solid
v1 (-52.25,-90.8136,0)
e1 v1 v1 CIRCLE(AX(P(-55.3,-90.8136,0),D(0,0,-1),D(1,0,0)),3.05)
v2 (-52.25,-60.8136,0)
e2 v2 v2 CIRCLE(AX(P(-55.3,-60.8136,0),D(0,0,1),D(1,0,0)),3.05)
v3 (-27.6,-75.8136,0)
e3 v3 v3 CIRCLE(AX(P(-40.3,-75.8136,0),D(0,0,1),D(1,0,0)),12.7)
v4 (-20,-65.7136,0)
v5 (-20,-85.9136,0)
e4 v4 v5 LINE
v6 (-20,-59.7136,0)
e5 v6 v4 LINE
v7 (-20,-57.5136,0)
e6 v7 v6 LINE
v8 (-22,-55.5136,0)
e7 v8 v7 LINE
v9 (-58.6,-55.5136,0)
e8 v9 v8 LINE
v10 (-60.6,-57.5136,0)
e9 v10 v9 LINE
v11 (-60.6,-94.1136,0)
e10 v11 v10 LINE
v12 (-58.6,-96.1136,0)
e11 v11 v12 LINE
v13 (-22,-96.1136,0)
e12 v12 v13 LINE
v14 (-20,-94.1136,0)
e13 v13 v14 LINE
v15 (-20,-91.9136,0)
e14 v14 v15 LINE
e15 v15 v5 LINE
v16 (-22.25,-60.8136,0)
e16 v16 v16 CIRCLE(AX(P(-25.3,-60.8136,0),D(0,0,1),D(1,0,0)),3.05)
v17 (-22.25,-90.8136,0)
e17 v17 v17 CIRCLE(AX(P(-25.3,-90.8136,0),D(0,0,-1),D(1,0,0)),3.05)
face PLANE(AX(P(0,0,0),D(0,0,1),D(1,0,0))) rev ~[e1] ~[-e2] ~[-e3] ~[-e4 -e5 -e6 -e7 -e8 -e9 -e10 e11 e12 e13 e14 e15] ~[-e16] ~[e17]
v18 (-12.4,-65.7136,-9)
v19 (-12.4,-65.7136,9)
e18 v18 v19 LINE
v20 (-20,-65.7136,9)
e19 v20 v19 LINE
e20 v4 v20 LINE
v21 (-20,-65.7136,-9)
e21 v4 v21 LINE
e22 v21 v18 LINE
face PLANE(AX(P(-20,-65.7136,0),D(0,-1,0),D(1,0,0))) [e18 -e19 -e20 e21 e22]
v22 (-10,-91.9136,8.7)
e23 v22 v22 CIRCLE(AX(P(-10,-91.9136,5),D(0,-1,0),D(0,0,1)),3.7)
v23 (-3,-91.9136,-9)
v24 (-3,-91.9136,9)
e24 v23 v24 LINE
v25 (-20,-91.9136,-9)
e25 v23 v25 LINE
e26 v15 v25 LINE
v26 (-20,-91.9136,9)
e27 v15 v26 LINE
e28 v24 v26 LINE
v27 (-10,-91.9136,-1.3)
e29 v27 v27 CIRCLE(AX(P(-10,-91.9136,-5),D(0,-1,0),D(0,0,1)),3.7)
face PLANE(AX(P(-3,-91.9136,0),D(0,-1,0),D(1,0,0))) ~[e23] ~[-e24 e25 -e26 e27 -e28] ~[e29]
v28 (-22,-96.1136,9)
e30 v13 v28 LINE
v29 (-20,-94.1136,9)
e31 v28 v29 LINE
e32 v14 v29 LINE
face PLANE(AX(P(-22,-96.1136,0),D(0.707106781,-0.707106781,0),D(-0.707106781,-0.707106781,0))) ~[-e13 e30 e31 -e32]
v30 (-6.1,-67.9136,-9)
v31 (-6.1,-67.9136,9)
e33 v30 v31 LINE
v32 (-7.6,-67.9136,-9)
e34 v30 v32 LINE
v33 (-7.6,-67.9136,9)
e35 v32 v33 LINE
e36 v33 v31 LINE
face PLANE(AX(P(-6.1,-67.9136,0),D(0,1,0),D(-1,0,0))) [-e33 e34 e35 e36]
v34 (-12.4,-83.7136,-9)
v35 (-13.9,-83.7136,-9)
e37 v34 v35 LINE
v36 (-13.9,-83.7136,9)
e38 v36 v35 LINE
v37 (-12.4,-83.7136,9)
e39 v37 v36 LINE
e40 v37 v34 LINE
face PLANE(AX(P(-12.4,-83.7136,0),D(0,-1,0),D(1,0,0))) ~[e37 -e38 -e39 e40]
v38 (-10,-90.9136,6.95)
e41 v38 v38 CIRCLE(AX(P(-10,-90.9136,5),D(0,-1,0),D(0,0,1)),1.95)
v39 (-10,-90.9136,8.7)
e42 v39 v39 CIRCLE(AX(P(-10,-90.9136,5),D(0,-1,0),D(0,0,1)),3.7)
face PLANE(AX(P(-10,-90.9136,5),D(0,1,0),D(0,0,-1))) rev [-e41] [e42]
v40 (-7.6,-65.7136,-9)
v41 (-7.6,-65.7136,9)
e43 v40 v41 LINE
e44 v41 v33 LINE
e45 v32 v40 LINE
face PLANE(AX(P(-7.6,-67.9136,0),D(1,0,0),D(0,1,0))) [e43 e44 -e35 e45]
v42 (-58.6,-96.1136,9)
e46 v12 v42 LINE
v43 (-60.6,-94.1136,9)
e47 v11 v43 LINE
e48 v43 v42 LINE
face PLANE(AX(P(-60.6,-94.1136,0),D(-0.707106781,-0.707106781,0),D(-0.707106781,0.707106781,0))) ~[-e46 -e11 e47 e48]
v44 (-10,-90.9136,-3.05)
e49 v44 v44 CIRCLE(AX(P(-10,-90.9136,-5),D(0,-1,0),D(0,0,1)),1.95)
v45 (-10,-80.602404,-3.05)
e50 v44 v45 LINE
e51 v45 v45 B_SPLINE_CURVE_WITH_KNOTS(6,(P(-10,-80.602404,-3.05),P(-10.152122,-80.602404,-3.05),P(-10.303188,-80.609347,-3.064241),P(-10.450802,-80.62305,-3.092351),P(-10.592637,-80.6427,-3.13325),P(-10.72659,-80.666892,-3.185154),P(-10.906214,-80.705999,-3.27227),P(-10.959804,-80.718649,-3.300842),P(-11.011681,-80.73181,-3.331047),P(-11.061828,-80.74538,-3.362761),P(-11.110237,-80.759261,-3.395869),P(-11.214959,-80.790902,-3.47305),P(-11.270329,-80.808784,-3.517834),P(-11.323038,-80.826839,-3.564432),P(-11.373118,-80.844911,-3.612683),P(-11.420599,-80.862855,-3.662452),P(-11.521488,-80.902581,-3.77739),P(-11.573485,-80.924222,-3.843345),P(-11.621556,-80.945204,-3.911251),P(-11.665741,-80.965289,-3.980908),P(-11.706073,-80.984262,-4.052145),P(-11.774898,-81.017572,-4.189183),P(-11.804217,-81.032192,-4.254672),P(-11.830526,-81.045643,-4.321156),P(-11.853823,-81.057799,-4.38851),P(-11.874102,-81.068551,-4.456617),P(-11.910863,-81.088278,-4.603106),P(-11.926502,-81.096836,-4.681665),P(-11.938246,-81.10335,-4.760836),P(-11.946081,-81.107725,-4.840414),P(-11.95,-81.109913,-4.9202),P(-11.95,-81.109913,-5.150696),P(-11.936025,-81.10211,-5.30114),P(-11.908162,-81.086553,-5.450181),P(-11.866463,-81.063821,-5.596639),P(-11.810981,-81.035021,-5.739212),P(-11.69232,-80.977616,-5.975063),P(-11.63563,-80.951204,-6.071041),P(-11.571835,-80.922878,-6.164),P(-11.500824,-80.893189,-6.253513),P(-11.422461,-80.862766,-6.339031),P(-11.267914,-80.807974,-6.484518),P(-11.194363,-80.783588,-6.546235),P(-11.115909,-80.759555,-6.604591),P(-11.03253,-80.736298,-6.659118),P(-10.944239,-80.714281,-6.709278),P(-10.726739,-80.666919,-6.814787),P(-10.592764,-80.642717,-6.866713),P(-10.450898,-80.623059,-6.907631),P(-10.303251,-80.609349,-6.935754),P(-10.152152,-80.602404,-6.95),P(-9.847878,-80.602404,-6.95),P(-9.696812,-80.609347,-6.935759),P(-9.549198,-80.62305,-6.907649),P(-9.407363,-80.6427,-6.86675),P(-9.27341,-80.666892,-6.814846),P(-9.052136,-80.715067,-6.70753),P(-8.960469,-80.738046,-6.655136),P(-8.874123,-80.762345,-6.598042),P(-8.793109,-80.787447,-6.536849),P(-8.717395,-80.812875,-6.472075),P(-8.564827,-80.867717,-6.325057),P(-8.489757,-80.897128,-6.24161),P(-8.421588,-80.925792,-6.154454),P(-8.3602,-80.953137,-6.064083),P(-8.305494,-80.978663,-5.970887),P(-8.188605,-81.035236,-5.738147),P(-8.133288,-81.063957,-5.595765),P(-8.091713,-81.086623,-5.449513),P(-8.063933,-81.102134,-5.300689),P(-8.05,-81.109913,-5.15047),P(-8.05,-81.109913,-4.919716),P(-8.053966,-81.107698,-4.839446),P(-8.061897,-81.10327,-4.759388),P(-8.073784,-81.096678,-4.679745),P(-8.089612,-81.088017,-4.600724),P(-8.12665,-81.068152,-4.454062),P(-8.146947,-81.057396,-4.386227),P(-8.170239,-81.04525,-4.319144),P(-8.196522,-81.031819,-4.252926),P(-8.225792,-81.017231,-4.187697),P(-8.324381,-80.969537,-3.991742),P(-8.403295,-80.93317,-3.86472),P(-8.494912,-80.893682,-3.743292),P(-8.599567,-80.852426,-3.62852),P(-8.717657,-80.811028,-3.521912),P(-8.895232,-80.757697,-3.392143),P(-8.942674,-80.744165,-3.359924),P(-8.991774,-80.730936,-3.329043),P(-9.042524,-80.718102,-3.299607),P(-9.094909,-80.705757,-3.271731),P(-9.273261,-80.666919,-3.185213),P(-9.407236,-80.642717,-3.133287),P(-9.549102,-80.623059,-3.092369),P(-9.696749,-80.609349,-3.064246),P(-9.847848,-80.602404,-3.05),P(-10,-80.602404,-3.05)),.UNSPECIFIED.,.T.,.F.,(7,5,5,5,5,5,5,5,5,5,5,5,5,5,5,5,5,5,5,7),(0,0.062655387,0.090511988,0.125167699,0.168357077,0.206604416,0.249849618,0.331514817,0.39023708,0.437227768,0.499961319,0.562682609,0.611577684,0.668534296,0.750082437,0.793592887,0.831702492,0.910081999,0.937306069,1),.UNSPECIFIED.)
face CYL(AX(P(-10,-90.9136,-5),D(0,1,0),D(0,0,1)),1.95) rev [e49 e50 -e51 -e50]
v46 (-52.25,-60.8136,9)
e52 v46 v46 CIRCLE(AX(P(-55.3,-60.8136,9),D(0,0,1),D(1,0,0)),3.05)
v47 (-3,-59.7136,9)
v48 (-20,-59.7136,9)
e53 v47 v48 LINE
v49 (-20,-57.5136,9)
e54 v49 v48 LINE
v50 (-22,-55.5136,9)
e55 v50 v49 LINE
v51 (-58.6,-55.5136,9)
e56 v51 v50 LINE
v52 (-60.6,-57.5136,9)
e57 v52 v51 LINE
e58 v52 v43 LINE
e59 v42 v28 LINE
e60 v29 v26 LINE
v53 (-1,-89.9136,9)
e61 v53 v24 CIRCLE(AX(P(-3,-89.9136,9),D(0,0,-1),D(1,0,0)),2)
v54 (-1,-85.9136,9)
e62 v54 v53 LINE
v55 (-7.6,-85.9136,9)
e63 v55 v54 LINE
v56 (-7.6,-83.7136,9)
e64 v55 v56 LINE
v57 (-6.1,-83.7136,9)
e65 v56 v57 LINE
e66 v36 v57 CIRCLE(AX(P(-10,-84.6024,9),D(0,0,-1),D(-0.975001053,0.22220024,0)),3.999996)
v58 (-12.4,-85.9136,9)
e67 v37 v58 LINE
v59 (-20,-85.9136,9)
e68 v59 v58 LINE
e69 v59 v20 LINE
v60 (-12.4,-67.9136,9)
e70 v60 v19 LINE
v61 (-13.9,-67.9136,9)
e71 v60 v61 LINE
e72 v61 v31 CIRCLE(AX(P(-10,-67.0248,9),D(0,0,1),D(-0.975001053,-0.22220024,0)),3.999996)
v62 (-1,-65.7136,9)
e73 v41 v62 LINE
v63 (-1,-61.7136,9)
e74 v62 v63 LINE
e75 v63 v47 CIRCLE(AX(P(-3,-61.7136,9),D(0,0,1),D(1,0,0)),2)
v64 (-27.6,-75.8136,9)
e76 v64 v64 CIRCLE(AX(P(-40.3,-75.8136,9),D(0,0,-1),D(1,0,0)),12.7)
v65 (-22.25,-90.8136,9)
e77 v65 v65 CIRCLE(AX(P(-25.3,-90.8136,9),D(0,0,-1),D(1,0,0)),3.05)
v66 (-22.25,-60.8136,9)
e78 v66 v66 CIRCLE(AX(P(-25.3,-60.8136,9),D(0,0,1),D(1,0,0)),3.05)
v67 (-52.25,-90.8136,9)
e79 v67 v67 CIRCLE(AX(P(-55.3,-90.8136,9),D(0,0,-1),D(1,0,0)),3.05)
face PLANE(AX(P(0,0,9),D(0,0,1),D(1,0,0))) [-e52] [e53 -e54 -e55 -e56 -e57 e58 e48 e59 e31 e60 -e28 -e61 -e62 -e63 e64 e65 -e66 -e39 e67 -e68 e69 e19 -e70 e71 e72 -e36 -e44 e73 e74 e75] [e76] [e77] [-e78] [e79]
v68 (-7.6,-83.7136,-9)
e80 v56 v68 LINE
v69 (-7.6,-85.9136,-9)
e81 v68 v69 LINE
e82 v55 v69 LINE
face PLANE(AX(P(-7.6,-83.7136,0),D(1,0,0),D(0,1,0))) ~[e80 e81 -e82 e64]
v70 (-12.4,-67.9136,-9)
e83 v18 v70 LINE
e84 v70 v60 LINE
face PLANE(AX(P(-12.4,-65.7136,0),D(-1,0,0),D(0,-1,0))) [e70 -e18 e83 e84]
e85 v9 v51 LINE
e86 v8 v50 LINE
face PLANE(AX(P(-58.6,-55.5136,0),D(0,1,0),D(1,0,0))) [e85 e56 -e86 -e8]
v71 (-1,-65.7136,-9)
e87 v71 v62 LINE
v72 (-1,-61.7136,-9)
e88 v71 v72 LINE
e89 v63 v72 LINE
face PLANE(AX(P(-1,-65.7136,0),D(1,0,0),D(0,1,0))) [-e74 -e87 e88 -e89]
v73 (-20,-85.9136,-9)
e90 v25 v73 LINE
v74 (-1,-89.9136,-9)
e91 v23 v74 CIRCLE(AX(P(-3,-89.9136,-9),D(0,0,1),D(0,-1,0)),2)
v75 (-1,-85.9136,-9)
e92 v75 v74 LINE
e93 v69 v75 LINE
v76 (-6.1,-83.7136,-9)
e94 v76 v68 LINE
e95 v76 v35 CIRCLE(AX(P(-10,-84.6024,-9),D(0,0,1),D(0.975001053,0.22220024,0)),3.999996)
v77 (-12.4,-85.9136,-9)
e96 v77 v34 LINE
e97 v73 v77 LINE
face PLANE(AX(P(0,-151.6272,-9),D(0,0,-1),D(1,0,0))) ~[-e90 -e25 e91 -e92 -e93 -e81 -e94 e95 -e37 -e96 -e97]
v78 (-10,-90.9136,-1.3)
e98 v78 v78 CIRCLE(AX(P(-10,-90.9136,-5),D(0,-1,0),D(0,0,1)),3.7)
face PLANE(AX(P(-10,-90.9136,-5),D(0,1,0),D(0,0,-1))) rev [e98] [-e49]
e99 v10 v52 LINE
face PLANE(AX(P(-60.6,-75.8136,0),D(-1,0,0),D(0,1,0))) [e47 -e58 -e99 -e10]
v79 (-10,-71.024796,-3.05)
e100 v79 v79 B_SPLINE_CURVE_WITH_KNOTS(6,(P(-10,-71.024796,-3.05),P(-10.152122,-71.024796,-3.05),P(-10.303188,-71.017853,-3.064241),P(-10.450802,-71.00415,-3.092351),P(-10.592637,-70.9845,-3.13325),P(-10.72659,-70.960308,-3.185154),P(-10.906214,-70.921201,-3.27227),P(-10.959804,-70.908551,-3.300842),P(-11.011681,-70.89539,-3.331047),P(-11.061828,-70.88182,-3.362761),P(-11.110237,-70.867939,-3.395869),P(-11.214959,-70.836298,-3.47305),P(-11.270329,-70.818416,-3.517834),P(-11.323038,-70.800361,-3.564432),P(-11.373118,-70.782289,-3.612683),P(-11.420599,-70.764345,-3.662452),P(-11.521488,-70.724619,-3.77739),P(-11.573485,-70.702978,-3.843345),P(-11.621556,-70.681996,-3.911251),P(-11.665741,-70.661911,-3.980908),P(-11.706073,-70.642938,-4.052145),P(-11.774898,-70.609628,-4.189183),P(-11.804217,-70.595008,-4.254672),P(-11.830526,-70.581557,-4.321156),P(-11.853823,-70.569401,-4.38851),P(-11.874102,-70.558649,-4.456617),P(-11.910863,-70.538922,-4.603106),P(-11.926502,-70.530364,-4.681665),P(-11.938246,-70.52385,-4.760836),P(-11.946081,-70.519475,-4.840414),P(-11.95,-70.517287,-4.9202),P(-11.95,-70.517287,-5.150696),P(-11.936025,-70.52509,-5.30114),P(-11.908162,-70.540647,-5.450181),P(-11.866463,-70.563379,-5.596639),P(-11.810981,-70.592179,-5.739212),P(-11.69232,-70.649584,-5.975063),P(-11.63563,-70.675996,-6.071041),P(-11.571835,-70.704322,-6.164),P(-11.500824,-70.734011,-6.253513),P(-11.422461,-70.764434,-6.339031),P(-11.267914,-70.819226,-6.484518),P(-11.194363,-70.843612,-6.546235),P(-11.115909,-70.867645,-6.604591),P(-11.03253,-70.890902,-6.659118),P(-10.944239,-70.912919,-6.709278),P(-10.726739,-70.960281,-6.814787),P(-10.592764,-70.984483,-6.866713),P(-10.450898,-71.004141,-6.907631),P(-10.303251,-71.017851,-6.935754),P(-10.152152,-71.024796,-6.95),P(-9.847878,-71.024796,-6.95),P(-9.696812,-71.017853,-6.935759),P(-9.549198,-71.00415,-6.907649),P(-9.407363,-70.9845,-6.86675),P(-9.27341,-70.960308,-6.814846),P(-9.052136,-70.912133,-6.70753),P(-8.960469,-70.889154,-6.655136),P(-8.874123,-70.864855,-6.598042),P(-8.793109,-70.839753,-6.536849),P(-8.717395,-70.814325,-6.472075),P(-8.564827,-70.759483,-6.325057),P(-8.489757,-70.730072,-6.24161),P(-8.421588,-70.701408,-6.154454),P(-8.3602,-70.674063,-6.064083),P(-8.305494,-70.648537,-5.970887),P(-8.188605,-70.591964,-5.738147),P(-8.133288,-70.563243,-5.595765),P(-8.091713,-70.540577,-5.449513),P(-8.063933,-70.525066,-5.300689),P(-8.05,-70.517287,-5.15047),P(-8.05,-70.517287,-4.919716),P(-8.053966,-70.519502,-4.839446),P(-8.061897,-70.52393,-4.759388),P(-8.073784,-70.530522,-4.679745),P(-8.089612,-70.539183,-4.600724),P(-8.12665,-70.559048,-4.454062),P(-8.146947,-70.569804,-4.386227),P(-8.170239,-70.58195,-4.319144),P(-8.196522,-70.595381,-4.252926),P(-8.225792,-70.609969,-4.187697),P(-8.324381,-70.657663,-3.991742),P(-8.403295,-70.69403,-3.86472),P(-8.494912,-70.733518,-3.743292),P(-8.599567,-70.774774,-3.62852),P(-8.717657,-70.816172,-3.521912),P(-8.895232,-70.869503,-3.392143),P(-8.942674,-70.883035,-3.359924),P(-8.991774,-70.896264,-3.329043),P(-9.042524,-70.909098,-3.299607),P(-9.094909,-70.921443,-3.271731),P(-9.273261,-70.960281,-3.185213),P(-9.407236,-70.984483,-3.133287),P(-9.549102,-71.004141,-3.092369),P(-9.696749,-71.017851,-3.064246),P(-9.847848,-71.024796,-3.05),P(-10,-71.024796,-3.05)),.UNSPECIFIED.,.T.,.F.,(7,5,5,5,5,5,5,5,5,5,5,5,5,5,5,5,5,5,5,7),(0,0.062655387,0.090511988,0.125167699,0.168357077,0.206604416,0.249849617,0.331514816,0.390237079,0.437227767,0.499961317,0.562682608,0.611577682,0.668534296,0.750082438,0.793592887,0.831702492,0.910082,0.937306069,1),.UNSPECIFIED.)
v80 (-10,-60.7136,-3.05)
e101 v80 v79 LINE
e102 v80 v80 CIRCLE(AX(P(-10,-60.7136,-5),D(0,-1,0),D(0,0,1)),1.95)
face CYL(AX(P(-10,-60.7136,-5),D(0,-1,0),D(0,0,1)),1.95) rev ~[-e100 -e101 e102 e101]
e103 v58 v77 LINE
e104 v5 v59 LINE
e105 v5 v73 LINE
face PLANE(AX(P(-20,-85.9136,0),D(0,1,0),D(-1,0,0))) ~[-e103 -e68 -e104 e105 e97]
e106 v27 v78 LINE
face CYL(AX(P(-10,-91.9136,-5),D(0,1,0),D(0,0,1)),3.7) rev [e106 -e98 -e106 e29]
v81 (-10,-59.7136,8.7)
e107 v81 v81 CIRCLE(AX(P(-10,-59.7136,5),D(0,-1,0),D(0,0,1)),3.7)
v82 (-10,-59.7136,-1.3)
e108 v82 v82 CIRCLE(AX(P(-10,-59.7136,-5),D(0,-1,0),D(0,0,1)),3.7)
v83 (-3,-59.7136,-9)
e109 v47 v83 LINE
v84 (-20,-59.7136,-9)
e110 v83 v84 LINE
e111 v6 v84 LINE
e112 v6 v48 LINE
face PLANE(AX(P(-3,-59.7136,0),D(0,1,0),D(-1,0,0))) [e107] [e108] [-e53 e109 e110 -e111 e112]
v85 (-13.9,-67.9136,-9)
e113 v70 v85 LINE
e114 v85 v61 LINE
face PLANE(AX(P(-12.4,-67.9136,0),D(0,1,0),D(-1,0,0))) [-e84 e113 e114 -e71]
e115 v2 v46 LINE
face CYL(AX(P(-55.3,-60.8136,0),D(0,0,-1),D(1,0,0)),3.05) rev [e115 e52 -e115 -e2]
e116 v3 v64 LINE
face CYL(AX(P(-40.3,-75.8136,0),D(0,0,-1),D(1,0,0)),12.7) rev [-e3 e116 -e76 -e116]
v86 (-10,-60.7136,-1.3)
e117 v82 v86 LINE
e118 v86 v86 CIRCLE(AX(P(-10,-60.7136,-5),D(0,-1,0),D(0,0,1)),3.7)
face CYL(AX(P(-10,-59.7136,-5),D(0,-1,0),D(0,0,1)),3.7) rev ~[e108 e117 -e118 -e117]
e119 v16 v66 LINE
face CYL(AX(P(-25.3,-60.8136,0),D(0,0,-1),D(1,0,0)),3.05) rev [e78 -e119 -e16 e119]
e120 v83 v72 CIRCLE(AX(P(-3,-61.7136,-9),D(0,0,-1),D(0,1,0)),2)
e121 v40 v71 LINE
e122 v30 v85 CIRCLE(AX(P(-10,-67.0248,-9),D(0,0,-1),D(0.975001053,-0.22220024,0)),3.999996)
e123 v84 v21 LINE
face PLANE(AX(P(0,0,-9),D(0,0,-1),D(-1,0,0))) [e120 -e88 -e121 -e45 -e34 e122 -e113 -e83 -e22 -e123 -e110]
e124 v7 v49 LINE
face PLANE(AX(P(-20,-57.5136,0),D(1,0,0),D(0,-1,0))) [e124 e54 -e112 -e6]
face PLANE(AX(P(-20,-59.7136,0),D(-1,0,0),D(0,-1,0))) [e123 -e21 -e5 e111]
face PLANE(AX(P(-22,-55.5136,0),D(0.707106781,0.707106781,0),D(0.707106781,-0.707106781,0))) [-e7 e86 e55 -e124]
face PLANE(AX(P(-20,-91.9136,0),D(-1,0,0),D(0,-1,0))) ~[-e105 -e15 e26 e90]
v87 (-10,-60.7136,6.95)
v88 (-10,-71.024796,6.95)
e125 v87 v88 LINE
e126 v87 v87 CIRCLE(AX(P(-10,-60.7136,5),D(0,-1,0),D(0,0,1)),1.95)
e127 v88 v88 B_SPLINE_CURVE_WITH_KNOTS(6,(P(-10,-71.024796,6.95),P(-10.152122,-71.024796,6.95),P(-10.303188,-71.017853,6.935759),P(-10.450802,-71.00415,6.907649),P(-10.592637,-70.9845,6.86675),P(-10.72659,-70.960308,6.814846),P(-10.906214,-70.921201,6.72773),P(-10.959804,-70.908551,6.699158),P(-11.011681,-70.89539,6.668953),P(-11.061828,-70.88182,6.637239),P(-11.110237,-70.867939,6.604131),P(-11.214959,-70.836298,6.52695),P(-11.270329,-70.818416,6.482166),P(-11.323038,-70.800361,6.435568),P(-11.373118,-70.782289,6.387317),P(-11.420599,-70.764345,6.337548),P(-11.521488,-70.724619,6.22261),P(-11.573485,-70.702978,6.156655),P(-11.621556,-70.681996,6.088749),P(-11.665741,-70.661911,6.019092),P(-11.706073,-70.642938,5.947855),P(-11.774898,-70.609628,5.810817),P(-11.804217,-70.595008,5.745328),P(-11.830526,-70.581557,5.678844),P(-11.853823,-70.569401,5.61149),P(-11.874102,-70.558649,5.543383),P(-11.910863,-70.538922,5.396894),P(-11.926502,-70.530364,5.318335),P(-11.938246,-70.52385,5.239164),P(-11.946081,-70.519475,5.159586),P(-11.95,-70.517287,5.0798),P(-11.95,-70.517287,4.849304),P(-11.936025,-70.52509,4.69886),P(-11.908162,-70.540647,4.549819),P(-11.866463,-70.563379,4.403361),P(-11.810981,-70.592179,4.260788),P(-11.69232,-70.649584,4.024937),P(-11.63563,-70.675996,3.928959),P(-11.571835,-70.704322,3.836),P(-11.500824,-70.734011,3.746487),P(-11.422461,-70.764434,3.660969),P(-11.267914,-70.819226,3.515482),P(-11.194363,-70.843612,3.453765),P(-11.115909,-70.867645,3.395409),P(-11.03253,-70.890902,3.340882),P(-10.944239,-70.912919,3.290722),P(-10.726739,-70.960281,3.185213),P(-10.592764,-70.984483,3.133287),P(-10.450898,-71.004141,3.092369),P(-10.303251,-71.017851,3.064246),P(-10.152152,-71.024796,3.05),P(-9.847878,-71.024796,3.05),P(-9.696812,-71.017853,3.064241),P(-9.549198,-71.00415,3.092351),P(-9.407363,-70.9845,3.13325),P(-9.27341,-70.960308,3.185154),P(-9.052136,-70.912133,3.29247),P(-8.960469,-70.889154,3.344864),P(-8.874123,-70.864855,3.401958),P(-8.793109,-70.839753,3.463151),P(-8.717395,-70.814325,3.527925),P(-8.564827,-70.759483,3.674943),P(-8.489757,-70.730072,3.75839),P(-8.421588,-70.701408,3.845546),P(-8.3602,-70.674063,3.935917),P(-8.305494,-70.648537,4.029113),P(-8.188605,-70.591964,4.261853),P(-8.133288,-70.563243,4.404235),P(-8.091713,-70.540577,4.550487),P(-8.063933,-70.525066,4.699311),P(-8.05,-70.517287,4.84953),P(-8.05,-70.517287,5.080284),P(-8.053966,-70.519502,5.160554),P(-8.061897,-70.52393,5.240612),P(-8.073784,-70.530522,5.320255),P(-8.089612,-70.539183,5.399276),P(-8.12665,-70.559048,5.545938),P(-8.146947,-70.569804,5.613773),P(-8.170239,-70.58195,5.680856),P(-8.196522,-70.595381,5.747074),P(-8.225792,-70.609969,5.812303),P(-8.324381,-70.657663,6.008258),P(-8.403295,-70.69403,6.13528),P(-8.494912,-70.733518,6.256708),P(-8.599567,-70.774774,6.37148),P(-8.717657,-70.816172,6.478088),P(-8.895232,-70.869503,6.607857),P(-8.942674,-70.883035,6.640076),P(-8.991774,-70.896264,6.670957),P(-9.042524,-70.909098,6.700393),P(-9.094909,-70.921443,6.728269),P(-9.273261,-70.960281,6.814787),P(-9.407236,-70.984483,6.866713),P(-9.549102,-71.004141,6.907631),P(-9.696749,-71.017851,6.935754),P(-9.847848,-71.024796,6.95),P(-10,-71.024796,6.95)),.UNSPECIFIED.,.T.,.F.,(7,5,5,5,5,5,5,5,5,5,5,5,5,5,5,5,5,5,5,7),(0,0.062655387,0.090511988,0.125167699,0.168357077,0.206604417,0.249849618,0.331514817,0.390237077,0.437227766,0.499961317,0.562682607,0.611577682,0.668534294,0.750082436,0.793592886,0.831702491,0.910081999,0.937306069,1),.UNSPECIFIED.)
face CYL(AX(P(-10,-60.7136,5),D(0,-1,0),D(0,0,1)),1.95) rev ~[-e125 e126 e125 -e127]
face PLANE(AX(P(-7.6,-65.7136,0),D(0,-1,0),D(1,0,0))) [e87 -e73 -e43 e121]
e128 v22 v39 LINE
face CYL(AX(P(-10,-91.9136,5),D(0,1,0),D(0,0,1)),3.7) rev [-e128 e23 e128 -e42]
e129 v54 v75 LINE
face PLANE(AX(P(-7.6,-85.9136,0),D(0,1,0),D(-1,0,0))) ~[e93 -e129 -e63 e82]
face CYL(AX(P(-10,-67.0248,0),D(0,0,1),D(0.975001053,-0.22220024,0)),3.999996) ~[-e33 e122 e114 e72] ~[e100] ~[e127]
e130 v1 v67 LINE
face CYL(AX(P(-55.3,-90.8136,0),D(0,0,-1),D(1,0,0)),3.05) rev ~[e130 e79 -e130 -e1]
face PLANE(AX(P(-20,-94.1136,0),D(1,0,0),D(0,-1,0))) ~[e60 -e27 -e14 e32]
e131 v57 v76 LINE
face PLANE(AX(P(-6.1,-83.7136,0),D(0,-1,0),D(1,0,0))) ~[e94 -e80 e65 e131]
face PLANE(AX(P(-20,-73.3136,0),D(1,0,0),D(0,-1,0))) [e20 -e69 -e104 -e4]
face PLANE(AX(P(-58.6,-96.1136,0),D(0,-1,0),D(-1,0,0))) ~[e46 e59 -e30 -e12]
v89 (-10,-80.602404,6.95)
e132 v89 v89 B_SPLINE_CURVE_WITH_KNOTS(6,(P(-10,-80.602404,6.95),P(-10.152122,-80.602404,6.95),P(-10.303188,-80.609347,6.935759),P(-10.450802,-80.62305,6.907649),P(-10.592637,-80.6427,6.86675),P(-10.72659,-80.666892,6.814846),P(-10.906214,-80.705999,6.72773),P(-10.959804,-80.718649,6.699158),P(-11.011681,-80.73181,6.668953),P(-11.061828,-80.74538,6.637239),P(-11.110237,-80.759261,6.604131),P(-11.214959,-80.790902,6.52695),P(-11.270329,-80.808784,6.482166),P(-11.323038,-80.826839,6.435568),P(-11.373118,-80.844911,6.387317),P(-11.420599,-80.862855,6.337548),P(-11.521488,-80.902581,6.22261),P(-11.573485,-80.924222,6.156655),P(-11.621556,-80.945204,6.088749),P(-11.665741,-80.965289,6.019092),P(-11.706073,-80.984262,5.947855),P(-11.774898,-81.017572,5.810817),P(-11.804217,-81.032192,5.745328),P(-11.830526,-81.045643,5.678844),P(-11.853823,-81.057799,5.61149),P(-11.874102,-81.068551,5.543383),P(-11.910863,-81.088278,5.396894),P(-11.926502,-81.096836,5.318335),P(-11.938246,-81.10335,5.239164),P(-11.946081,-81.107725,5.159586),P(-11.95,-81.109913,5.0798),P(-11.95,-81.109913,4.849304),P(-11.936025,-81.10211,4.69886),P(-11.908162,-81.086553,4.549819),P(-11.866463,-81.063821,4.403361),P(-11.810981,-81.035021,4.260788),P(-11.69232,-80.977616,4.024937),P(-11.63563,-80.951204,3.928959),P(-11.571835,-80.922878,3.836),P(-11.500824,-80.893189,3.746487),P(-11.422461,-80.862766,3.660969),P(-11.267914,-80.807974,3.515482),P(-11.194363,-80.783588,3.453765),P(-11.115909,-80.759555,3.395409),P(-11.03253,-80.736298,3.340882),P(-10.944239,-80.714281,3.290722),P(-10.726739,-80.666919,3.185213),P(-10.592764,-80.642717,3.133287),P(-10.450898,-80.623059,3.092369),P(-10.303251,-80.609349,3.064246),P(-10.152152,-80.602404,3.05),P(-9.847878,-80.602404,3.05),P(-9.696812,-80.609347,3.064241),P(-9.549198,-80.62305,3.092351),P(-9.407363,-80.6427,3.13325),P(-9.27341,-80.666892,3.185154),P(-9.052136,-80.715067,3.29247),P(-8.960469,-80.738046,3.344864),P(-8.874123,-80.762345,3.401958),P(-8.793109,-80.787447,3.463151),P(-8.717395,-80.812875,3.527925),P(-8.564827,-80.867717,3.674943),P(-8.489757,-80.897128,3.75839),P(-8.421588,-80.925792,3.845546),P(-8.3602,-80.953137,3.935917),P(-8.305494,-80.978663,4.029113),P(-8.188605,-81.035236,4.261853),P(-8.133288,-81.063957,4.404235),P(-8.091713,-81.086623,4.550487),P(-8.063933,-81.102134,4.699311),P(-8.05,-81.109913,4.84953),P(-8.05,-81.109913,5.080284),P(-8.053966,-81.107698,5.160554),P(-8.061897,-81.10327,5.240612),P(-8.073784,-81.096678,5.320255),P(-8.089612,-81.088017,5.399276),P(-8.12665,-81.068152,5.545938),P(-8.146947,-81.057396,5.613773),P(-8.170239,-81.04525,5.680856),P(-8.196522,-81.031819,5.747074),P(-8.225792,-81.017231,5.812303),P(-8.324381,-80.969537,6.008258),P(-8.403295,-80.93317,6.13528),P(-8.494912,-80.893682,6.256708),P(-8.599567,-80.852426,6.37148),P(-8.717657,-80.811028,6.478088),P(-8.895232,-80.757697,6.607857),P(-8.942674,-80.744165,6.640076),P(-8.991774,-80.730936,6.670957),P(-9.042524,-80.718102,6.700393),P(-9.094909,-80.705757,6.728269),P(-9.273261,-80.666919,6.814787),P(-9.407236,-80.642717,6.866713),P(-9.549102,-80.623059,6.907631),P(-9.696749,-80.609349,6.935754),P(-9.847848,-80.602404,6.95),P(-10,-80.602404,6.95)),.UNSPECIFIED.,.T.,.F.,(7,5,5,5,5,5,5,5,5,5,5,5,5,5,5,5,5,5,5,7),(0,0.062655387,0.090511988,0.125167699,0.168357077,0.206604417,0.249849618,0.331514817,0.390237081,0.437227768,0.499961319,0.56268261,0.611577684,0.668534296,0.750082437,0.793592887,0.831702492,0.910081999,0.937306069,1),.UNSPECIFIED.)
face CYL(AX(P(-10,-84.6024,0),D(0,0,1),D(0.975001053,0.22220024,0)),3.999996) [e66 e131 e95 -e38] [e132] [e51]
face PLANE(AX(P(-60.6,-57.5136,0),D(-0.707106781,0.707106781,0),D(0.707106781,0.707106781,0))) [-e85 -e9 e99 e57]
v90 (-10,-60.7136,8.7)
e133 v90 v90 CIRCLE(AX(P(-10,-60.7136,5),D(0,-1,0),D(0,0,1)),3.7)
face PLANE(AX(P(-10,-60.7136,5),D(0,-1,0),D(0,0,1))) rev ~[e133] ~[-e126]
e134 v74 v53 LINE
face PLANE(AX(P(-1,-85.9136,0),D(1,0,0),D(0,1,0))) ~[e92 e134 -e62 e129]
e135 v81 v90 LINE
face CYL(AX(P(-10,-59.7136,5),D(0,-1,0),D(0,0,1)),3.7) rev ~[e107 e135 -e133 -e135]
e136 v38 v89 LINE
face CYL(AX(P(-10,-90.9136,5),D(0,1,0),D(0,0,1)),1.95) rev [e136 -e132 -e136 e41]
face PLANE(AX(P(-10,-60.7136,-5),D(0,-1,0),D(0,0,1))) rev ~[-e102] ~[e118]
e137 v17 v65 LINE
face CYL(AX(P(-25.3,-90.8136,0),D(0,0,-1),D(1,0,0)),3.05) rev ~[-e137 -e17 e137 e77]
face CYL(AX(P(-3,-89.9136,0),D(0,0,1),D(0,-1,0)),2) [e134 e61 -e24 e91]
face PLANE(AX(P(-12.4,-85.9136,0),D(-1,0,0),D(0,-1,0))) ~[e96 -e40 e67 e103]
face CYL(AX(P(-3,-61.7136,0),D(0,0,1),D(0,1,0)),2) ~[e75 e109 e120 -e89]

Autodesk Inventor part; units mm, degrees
ref_plane "YZ Plane" through (0, 0, 0) normal (1, 0, 0) x (0, 1, 0)
ref_plane "XZ Plane" through (0, 0, 0) normal (0, 1, 0) x (-1, 0, 0)
ref_plane "XY Plane" through (0, 0, 0) normal (0, 0, 1) x (1, 0, 0)
sketch "Sketch1" plane through (0, 0, 0) normal (0, 0, 1) x (1, 0, 0)
  line L0 (-20, -85.8136) -> (-20, -78.3136) projected
  line L1 (-20, -78.3136) -> (-18.5, -78.3136) projected
  line L2 (-18.5, -78.3136) -> (-18.5, -82.5636) projected
  line L3 (-18.5, -82.5636) -> (-17.8462, -82.5636) projected
  line L4 (-17.8462, -82.5636) -> (-14, -78.7175) projected
  line L5 (-14, -78.7175) -> (-14, -72.9098) projected
  line L6 (-14, -72.9098) -> (-17.8462, -69.0636) projected
  line L7 (-17.8462, -69.0636) -> (-18.5, -69.0636) projected
  line L8 (-18.5, -69.0636) -> (-18.5, -73.3136) projected
  line L9 (-18.5, -73.3136) -> (-20, -73.3136) projected
  line L10 (-20, -73.3136) -> (-20, -65.8136) projected
  line L11 (-20, -65.8136) -> (-12.5, -65.8136) projected
  line L12 (-12.5, -65.8136) -> (-12.5, -67.3136) projected
  line L13 (-12.5, -67.3136) -> (-16.75, -67.3136) projected
  line L14 (-16.75, -67.3136) -> (-16.75, -68.0385) projected
  line L15 (-16.75, -68.0385) -> (-12.9748, -71.8136) projected
  line L16 (-12.9748, -71.8136) -> (-7.0252, -71.8136) projected
  line L17 (-7.0252, -71.8136) -> (-3.25, -68.0385) projected
  line L18 (-3.25, -68.0385) -> (-3.25, -67.3136) projected
  line L19 (-3.25, -67.3136) -> (-7.5, -67.3136) projected
  line L20 (-7.5, -67.3136) -> (-7.5, -65.8136) projected
  line L21 (-7.5, -65.8136) -> (0, -65.8136) projected
  line L22 (0, -65.8136) -> (0, -73.3136) projected
  line L23 (0, -73.3136) -> (-1.5, -73.3136) projected
  line L24 (-1.5, -73.3136) -> (-1.5, -69.0636) projected
  line L25 (-1.5, -69.0636) -> (-2.1538, -69.0636) projected
  line L26 (-2.1538, -69.0636) -> (-6, -72.9098) projected
  line L27 (-6, -72.9098) -> (-6, -78.7175) projected
  line L28 (-6, -78.7175) -> (-2.1538, -82.5636) projected
  line L29 (-2.1538, -82.5636) -> (-1.5, -82.5636) projected
  line L30 (-1.5, -82.5636) -> (-1.5, -78.3136) projected
  line L31 (-1.5, -78.3136) -> (0, -78.3136) projected
  line L32 (0, -78.3136) -> (0, -85.8136) projected
  line L33 (0, -85.8136) -> (-7.5, -85.8136) projected
  line L34 (-7.5, -85.8136) -> (-7.5, -84.3136) projected
  line L35 (-7.5, -84.3136) -> (-3.25, -84.3136) projected
  line L36 (-3.25, -84.3136) -> (-3.25, -83.5888) projected
  line L37 (-3.25, -83.5888) -> (-7.0252, -79.8136) projected
  line L38 (-7.0252, -79.8136) -> (-12.9748, -79.8136) projected
  line L39 (-12.9748, -79.8136) -> (-16.75, -83.5888) projected
  line L40 (-16.75, -83.5888) -> (-16.75, -84.3136) projected
  line L41 (-16.75, -84.3136) -> (-12.5, -84.3136) projected
  line L42 (-12.5, -84.3136) -> (-12.5, -85.8136) projected
  line L43 (-12.5, -85.8136) -> (-20, -85.8136) projected
  circle A0 centre (-10, -75.8136) radius 2.15 projected
  line L44 (-12.4, -65.7136) -> (-7.6, -65.7136)
  line L45 (-7.6, -65.7136) -> (-7.6, -67.9136)
  line L46 (-7.6, -67.9136) -> (-12.4, -67.9136)
  line L47 (-12.4, -67.9136) -> (-12.4, -65.7136)
  line L48 (-12.4, -67.9136) -> (-13.9, -67.9136)
  line L49 (-7.6, -67.9136) -> (-6.1, -67.9136)
  arc A1 (-13.9, -67.9136) -> (-6.1, -67.9136) centre (-10, -67.0248) ccw
  line L50 (-20, -65.8136) -> (-20, -59.8136)
  line L51 (-14, -75.8136) -> (-32.3565, -75.8136)
  line L52 (-20, -75.8136) -> (-60.6, -75.8136)
  line L53 (-60.6, -75.8136) -> (-60.6, -57.5136)
  line L54 (-58.6, -55.5136) -> (-22, -55.5136)
  line L55 (-20, -57.5136) -> (-20, -75.8136)
  line L56 (-22, -55.5136) -> (-20, -57.5136)
  line L57 (-60.6, -57.5136) -> (-58.6, -55.5136)
  arc A2 (-27.6, -75.8136) -> (-53, -75.8136) centre (-40.3, -75.8136) ccw
  circle A3 centre (-55.3, -60.8136) radius 3.05
  circle A4 centre (-25.3, -60.8136) radius 3.05
  line L58 (-20, -65.7136) -> (-1, -65.7136)
  line L59 (-1, -65.7136) -> (-1, -61.7136)
  line L60 (-3, -59.7136) -> (-20, -59.7136)
  line L61 (-20, -59.7136) -> (-20, -65.7136)
  arc A5 (-1, -61.7136) -> (-3, -59.7136) centre (-3, -61.7136) ccw
  point P0 (0, 0)
  point P1 (-1, -65.8136)
  point P2 (-1, -59.8136)
  point P3 (-60.6, -55.5136)
  point P4 (-20, -55.5136)
  point P5 (-1, -59.7136)
  dimension "d3" = 4.8
  dimension "d4" = 2.2
  dimension "d6" = 0.1
  dimension "d7" = 1.5
  dimension "d8" = 1.5
  dimension "d9" = 4
  dimension "d10" = 19
  dimension "d11" = 6
  dimension "d15" = 40.6
  dimension "d16" = 20.3
  dimension "d17" = 2
  dimension "d18" = 2
  dimension "d19" = 2
  dimension "d20" = 2
  dimension "d21" = 25.4
  dimension "d22" = 6.1
  dimension "d23" = 5.3
  dimension "d24" = 5.3
  dimension "d25" = 6.1
  dimension "d26" = 5.3
  dimension "d27" = 5.3
  dimension "d32" = 0.6
  dimension "d33" = 19
  dimension "d34" = 6
  dimension "d35" = 2
extrude "Extrusion1" add sketch "Sketch1" along normal blind 9 contours L51 A2 L52 L53 L57 L54 L56 L55 L50 L10 | L50 L55 L60 A5 L59 L58 L44 | L44 L45 L46 L47 | L46 L49 A1 L48
sketch "Sketch4" plane through (0, 0, 0) normal (0, 0, -1) x (-1, 0, 0)
  line L0 (22, -55.5136) -> (58.6, -55.5136) projected
  line L1 (20, -57.5136) -> (22, -55.5136) projected
  line L2 (20, -59.7136) -> (20, -57.5136) projected
  line L3 (3, -59.7136) -> (20, -59.7136) projected
  arc A0 (3, -59.7136) -> (1, -61.7136) centre (3, -61.7136) ccw projected
  line L4 (1, -65.7136) -> (1, -61.7136) projected
  line L5 (7.6, -65.7136) -> (1, -65.7136) projected
  line L6 (7.6, -67.9136) -> (7.6, -65.7136) projected
  line L7 (6.1, -67.9136) -> (7.6, -67.9136) projected
  arc A1 (6.1, -67.9136) -> (13.9, -67.9136) centre (10, -67.0248) ccw projected
  line L8 (12.4, -67.9136) -> (13.9, -67.9136) projected
  line L9 (12.4, -65.7136) -> (12.4, -67.9136) projected
  line L10 (20, -65.7136) -> (12.4, -65.7136) projected
  line L11 (20, -75.8136) -> (20, -65.7136) projected
  line L12 (27.6, -75.8136) -> (20, -75.8136) projected
  arc A2 (53, -75.8136) -> (27.6, -75.8136) centre (40.3, -75.8136) ccw projected
  line L13 (60.6, -75.8136) -> (53, -75.8136) projected
  line L14 (60.6, -57.5136) -> (60.6, -75.8136) projected
  line L15 (58.6, -55.5136) -> (60.6, -57.5136) projected
  circle A3 centre (25.3, -60.8136) radius 3.05 projected
  circle A4 centre (55.3, -60.8136) radius 3.05 projected
  line L16 (20, -59.7136) -> (20, -57.5136) projected
  line L17 (20, -75.8136) -> (20, -65.7136) projected
  line L18 (20, -59.7136) -> (20, -65.7136)
  point P0 (0, 0)
extrude "Extrusion3" add sketch "Sketch4" along normal blind 9 contours L18 L10 L9 L8 A1 L7 L6 L5 L4 A0 L3
sketch "Sketch5" plane through (-20, -59.7136, 9) normal (0, 1, 0) x (1, 0, 0)
  line L0 (6.1, 18) -> (6.1, 0) projected
  line L1 (13.9, 18) -> (13.9, 0) projected
  circle A0 centre (10, 4) radius 1.95
  circle A1 centre (10, 14) radius 1.95
  line L2 (0, 18) -> (17, 18) projected
  line L3 (17, 0) -> (0, 0) projected
  point P0 (20, 9)
  dimension "d38" = 3.9
  dimension "d39" = 3.9
  dimension "d40" = 3.9
  dimension "d41" = 3.9
  dimension "d42" = 4
  dimension "d43" = 4
hole "Hole1" at (-10, -59.7136, 5) at (-10, -59.7136, -5) direction (0, -1, 0) diameter 3.9 end through all counterbore diameter 7.4 counterbore depth 1
mirror "Mirror1" about plane through (-60.6, -75.8136, 0) normal (0, -1, 0) of "Extrusion1", "Extrusion3", "Hole1"
equation "\"d18\" = d17"
equation "\"d19\" = d17"
equation "\"d20\" = d19"
properties part number "Rain_LensHolder"
